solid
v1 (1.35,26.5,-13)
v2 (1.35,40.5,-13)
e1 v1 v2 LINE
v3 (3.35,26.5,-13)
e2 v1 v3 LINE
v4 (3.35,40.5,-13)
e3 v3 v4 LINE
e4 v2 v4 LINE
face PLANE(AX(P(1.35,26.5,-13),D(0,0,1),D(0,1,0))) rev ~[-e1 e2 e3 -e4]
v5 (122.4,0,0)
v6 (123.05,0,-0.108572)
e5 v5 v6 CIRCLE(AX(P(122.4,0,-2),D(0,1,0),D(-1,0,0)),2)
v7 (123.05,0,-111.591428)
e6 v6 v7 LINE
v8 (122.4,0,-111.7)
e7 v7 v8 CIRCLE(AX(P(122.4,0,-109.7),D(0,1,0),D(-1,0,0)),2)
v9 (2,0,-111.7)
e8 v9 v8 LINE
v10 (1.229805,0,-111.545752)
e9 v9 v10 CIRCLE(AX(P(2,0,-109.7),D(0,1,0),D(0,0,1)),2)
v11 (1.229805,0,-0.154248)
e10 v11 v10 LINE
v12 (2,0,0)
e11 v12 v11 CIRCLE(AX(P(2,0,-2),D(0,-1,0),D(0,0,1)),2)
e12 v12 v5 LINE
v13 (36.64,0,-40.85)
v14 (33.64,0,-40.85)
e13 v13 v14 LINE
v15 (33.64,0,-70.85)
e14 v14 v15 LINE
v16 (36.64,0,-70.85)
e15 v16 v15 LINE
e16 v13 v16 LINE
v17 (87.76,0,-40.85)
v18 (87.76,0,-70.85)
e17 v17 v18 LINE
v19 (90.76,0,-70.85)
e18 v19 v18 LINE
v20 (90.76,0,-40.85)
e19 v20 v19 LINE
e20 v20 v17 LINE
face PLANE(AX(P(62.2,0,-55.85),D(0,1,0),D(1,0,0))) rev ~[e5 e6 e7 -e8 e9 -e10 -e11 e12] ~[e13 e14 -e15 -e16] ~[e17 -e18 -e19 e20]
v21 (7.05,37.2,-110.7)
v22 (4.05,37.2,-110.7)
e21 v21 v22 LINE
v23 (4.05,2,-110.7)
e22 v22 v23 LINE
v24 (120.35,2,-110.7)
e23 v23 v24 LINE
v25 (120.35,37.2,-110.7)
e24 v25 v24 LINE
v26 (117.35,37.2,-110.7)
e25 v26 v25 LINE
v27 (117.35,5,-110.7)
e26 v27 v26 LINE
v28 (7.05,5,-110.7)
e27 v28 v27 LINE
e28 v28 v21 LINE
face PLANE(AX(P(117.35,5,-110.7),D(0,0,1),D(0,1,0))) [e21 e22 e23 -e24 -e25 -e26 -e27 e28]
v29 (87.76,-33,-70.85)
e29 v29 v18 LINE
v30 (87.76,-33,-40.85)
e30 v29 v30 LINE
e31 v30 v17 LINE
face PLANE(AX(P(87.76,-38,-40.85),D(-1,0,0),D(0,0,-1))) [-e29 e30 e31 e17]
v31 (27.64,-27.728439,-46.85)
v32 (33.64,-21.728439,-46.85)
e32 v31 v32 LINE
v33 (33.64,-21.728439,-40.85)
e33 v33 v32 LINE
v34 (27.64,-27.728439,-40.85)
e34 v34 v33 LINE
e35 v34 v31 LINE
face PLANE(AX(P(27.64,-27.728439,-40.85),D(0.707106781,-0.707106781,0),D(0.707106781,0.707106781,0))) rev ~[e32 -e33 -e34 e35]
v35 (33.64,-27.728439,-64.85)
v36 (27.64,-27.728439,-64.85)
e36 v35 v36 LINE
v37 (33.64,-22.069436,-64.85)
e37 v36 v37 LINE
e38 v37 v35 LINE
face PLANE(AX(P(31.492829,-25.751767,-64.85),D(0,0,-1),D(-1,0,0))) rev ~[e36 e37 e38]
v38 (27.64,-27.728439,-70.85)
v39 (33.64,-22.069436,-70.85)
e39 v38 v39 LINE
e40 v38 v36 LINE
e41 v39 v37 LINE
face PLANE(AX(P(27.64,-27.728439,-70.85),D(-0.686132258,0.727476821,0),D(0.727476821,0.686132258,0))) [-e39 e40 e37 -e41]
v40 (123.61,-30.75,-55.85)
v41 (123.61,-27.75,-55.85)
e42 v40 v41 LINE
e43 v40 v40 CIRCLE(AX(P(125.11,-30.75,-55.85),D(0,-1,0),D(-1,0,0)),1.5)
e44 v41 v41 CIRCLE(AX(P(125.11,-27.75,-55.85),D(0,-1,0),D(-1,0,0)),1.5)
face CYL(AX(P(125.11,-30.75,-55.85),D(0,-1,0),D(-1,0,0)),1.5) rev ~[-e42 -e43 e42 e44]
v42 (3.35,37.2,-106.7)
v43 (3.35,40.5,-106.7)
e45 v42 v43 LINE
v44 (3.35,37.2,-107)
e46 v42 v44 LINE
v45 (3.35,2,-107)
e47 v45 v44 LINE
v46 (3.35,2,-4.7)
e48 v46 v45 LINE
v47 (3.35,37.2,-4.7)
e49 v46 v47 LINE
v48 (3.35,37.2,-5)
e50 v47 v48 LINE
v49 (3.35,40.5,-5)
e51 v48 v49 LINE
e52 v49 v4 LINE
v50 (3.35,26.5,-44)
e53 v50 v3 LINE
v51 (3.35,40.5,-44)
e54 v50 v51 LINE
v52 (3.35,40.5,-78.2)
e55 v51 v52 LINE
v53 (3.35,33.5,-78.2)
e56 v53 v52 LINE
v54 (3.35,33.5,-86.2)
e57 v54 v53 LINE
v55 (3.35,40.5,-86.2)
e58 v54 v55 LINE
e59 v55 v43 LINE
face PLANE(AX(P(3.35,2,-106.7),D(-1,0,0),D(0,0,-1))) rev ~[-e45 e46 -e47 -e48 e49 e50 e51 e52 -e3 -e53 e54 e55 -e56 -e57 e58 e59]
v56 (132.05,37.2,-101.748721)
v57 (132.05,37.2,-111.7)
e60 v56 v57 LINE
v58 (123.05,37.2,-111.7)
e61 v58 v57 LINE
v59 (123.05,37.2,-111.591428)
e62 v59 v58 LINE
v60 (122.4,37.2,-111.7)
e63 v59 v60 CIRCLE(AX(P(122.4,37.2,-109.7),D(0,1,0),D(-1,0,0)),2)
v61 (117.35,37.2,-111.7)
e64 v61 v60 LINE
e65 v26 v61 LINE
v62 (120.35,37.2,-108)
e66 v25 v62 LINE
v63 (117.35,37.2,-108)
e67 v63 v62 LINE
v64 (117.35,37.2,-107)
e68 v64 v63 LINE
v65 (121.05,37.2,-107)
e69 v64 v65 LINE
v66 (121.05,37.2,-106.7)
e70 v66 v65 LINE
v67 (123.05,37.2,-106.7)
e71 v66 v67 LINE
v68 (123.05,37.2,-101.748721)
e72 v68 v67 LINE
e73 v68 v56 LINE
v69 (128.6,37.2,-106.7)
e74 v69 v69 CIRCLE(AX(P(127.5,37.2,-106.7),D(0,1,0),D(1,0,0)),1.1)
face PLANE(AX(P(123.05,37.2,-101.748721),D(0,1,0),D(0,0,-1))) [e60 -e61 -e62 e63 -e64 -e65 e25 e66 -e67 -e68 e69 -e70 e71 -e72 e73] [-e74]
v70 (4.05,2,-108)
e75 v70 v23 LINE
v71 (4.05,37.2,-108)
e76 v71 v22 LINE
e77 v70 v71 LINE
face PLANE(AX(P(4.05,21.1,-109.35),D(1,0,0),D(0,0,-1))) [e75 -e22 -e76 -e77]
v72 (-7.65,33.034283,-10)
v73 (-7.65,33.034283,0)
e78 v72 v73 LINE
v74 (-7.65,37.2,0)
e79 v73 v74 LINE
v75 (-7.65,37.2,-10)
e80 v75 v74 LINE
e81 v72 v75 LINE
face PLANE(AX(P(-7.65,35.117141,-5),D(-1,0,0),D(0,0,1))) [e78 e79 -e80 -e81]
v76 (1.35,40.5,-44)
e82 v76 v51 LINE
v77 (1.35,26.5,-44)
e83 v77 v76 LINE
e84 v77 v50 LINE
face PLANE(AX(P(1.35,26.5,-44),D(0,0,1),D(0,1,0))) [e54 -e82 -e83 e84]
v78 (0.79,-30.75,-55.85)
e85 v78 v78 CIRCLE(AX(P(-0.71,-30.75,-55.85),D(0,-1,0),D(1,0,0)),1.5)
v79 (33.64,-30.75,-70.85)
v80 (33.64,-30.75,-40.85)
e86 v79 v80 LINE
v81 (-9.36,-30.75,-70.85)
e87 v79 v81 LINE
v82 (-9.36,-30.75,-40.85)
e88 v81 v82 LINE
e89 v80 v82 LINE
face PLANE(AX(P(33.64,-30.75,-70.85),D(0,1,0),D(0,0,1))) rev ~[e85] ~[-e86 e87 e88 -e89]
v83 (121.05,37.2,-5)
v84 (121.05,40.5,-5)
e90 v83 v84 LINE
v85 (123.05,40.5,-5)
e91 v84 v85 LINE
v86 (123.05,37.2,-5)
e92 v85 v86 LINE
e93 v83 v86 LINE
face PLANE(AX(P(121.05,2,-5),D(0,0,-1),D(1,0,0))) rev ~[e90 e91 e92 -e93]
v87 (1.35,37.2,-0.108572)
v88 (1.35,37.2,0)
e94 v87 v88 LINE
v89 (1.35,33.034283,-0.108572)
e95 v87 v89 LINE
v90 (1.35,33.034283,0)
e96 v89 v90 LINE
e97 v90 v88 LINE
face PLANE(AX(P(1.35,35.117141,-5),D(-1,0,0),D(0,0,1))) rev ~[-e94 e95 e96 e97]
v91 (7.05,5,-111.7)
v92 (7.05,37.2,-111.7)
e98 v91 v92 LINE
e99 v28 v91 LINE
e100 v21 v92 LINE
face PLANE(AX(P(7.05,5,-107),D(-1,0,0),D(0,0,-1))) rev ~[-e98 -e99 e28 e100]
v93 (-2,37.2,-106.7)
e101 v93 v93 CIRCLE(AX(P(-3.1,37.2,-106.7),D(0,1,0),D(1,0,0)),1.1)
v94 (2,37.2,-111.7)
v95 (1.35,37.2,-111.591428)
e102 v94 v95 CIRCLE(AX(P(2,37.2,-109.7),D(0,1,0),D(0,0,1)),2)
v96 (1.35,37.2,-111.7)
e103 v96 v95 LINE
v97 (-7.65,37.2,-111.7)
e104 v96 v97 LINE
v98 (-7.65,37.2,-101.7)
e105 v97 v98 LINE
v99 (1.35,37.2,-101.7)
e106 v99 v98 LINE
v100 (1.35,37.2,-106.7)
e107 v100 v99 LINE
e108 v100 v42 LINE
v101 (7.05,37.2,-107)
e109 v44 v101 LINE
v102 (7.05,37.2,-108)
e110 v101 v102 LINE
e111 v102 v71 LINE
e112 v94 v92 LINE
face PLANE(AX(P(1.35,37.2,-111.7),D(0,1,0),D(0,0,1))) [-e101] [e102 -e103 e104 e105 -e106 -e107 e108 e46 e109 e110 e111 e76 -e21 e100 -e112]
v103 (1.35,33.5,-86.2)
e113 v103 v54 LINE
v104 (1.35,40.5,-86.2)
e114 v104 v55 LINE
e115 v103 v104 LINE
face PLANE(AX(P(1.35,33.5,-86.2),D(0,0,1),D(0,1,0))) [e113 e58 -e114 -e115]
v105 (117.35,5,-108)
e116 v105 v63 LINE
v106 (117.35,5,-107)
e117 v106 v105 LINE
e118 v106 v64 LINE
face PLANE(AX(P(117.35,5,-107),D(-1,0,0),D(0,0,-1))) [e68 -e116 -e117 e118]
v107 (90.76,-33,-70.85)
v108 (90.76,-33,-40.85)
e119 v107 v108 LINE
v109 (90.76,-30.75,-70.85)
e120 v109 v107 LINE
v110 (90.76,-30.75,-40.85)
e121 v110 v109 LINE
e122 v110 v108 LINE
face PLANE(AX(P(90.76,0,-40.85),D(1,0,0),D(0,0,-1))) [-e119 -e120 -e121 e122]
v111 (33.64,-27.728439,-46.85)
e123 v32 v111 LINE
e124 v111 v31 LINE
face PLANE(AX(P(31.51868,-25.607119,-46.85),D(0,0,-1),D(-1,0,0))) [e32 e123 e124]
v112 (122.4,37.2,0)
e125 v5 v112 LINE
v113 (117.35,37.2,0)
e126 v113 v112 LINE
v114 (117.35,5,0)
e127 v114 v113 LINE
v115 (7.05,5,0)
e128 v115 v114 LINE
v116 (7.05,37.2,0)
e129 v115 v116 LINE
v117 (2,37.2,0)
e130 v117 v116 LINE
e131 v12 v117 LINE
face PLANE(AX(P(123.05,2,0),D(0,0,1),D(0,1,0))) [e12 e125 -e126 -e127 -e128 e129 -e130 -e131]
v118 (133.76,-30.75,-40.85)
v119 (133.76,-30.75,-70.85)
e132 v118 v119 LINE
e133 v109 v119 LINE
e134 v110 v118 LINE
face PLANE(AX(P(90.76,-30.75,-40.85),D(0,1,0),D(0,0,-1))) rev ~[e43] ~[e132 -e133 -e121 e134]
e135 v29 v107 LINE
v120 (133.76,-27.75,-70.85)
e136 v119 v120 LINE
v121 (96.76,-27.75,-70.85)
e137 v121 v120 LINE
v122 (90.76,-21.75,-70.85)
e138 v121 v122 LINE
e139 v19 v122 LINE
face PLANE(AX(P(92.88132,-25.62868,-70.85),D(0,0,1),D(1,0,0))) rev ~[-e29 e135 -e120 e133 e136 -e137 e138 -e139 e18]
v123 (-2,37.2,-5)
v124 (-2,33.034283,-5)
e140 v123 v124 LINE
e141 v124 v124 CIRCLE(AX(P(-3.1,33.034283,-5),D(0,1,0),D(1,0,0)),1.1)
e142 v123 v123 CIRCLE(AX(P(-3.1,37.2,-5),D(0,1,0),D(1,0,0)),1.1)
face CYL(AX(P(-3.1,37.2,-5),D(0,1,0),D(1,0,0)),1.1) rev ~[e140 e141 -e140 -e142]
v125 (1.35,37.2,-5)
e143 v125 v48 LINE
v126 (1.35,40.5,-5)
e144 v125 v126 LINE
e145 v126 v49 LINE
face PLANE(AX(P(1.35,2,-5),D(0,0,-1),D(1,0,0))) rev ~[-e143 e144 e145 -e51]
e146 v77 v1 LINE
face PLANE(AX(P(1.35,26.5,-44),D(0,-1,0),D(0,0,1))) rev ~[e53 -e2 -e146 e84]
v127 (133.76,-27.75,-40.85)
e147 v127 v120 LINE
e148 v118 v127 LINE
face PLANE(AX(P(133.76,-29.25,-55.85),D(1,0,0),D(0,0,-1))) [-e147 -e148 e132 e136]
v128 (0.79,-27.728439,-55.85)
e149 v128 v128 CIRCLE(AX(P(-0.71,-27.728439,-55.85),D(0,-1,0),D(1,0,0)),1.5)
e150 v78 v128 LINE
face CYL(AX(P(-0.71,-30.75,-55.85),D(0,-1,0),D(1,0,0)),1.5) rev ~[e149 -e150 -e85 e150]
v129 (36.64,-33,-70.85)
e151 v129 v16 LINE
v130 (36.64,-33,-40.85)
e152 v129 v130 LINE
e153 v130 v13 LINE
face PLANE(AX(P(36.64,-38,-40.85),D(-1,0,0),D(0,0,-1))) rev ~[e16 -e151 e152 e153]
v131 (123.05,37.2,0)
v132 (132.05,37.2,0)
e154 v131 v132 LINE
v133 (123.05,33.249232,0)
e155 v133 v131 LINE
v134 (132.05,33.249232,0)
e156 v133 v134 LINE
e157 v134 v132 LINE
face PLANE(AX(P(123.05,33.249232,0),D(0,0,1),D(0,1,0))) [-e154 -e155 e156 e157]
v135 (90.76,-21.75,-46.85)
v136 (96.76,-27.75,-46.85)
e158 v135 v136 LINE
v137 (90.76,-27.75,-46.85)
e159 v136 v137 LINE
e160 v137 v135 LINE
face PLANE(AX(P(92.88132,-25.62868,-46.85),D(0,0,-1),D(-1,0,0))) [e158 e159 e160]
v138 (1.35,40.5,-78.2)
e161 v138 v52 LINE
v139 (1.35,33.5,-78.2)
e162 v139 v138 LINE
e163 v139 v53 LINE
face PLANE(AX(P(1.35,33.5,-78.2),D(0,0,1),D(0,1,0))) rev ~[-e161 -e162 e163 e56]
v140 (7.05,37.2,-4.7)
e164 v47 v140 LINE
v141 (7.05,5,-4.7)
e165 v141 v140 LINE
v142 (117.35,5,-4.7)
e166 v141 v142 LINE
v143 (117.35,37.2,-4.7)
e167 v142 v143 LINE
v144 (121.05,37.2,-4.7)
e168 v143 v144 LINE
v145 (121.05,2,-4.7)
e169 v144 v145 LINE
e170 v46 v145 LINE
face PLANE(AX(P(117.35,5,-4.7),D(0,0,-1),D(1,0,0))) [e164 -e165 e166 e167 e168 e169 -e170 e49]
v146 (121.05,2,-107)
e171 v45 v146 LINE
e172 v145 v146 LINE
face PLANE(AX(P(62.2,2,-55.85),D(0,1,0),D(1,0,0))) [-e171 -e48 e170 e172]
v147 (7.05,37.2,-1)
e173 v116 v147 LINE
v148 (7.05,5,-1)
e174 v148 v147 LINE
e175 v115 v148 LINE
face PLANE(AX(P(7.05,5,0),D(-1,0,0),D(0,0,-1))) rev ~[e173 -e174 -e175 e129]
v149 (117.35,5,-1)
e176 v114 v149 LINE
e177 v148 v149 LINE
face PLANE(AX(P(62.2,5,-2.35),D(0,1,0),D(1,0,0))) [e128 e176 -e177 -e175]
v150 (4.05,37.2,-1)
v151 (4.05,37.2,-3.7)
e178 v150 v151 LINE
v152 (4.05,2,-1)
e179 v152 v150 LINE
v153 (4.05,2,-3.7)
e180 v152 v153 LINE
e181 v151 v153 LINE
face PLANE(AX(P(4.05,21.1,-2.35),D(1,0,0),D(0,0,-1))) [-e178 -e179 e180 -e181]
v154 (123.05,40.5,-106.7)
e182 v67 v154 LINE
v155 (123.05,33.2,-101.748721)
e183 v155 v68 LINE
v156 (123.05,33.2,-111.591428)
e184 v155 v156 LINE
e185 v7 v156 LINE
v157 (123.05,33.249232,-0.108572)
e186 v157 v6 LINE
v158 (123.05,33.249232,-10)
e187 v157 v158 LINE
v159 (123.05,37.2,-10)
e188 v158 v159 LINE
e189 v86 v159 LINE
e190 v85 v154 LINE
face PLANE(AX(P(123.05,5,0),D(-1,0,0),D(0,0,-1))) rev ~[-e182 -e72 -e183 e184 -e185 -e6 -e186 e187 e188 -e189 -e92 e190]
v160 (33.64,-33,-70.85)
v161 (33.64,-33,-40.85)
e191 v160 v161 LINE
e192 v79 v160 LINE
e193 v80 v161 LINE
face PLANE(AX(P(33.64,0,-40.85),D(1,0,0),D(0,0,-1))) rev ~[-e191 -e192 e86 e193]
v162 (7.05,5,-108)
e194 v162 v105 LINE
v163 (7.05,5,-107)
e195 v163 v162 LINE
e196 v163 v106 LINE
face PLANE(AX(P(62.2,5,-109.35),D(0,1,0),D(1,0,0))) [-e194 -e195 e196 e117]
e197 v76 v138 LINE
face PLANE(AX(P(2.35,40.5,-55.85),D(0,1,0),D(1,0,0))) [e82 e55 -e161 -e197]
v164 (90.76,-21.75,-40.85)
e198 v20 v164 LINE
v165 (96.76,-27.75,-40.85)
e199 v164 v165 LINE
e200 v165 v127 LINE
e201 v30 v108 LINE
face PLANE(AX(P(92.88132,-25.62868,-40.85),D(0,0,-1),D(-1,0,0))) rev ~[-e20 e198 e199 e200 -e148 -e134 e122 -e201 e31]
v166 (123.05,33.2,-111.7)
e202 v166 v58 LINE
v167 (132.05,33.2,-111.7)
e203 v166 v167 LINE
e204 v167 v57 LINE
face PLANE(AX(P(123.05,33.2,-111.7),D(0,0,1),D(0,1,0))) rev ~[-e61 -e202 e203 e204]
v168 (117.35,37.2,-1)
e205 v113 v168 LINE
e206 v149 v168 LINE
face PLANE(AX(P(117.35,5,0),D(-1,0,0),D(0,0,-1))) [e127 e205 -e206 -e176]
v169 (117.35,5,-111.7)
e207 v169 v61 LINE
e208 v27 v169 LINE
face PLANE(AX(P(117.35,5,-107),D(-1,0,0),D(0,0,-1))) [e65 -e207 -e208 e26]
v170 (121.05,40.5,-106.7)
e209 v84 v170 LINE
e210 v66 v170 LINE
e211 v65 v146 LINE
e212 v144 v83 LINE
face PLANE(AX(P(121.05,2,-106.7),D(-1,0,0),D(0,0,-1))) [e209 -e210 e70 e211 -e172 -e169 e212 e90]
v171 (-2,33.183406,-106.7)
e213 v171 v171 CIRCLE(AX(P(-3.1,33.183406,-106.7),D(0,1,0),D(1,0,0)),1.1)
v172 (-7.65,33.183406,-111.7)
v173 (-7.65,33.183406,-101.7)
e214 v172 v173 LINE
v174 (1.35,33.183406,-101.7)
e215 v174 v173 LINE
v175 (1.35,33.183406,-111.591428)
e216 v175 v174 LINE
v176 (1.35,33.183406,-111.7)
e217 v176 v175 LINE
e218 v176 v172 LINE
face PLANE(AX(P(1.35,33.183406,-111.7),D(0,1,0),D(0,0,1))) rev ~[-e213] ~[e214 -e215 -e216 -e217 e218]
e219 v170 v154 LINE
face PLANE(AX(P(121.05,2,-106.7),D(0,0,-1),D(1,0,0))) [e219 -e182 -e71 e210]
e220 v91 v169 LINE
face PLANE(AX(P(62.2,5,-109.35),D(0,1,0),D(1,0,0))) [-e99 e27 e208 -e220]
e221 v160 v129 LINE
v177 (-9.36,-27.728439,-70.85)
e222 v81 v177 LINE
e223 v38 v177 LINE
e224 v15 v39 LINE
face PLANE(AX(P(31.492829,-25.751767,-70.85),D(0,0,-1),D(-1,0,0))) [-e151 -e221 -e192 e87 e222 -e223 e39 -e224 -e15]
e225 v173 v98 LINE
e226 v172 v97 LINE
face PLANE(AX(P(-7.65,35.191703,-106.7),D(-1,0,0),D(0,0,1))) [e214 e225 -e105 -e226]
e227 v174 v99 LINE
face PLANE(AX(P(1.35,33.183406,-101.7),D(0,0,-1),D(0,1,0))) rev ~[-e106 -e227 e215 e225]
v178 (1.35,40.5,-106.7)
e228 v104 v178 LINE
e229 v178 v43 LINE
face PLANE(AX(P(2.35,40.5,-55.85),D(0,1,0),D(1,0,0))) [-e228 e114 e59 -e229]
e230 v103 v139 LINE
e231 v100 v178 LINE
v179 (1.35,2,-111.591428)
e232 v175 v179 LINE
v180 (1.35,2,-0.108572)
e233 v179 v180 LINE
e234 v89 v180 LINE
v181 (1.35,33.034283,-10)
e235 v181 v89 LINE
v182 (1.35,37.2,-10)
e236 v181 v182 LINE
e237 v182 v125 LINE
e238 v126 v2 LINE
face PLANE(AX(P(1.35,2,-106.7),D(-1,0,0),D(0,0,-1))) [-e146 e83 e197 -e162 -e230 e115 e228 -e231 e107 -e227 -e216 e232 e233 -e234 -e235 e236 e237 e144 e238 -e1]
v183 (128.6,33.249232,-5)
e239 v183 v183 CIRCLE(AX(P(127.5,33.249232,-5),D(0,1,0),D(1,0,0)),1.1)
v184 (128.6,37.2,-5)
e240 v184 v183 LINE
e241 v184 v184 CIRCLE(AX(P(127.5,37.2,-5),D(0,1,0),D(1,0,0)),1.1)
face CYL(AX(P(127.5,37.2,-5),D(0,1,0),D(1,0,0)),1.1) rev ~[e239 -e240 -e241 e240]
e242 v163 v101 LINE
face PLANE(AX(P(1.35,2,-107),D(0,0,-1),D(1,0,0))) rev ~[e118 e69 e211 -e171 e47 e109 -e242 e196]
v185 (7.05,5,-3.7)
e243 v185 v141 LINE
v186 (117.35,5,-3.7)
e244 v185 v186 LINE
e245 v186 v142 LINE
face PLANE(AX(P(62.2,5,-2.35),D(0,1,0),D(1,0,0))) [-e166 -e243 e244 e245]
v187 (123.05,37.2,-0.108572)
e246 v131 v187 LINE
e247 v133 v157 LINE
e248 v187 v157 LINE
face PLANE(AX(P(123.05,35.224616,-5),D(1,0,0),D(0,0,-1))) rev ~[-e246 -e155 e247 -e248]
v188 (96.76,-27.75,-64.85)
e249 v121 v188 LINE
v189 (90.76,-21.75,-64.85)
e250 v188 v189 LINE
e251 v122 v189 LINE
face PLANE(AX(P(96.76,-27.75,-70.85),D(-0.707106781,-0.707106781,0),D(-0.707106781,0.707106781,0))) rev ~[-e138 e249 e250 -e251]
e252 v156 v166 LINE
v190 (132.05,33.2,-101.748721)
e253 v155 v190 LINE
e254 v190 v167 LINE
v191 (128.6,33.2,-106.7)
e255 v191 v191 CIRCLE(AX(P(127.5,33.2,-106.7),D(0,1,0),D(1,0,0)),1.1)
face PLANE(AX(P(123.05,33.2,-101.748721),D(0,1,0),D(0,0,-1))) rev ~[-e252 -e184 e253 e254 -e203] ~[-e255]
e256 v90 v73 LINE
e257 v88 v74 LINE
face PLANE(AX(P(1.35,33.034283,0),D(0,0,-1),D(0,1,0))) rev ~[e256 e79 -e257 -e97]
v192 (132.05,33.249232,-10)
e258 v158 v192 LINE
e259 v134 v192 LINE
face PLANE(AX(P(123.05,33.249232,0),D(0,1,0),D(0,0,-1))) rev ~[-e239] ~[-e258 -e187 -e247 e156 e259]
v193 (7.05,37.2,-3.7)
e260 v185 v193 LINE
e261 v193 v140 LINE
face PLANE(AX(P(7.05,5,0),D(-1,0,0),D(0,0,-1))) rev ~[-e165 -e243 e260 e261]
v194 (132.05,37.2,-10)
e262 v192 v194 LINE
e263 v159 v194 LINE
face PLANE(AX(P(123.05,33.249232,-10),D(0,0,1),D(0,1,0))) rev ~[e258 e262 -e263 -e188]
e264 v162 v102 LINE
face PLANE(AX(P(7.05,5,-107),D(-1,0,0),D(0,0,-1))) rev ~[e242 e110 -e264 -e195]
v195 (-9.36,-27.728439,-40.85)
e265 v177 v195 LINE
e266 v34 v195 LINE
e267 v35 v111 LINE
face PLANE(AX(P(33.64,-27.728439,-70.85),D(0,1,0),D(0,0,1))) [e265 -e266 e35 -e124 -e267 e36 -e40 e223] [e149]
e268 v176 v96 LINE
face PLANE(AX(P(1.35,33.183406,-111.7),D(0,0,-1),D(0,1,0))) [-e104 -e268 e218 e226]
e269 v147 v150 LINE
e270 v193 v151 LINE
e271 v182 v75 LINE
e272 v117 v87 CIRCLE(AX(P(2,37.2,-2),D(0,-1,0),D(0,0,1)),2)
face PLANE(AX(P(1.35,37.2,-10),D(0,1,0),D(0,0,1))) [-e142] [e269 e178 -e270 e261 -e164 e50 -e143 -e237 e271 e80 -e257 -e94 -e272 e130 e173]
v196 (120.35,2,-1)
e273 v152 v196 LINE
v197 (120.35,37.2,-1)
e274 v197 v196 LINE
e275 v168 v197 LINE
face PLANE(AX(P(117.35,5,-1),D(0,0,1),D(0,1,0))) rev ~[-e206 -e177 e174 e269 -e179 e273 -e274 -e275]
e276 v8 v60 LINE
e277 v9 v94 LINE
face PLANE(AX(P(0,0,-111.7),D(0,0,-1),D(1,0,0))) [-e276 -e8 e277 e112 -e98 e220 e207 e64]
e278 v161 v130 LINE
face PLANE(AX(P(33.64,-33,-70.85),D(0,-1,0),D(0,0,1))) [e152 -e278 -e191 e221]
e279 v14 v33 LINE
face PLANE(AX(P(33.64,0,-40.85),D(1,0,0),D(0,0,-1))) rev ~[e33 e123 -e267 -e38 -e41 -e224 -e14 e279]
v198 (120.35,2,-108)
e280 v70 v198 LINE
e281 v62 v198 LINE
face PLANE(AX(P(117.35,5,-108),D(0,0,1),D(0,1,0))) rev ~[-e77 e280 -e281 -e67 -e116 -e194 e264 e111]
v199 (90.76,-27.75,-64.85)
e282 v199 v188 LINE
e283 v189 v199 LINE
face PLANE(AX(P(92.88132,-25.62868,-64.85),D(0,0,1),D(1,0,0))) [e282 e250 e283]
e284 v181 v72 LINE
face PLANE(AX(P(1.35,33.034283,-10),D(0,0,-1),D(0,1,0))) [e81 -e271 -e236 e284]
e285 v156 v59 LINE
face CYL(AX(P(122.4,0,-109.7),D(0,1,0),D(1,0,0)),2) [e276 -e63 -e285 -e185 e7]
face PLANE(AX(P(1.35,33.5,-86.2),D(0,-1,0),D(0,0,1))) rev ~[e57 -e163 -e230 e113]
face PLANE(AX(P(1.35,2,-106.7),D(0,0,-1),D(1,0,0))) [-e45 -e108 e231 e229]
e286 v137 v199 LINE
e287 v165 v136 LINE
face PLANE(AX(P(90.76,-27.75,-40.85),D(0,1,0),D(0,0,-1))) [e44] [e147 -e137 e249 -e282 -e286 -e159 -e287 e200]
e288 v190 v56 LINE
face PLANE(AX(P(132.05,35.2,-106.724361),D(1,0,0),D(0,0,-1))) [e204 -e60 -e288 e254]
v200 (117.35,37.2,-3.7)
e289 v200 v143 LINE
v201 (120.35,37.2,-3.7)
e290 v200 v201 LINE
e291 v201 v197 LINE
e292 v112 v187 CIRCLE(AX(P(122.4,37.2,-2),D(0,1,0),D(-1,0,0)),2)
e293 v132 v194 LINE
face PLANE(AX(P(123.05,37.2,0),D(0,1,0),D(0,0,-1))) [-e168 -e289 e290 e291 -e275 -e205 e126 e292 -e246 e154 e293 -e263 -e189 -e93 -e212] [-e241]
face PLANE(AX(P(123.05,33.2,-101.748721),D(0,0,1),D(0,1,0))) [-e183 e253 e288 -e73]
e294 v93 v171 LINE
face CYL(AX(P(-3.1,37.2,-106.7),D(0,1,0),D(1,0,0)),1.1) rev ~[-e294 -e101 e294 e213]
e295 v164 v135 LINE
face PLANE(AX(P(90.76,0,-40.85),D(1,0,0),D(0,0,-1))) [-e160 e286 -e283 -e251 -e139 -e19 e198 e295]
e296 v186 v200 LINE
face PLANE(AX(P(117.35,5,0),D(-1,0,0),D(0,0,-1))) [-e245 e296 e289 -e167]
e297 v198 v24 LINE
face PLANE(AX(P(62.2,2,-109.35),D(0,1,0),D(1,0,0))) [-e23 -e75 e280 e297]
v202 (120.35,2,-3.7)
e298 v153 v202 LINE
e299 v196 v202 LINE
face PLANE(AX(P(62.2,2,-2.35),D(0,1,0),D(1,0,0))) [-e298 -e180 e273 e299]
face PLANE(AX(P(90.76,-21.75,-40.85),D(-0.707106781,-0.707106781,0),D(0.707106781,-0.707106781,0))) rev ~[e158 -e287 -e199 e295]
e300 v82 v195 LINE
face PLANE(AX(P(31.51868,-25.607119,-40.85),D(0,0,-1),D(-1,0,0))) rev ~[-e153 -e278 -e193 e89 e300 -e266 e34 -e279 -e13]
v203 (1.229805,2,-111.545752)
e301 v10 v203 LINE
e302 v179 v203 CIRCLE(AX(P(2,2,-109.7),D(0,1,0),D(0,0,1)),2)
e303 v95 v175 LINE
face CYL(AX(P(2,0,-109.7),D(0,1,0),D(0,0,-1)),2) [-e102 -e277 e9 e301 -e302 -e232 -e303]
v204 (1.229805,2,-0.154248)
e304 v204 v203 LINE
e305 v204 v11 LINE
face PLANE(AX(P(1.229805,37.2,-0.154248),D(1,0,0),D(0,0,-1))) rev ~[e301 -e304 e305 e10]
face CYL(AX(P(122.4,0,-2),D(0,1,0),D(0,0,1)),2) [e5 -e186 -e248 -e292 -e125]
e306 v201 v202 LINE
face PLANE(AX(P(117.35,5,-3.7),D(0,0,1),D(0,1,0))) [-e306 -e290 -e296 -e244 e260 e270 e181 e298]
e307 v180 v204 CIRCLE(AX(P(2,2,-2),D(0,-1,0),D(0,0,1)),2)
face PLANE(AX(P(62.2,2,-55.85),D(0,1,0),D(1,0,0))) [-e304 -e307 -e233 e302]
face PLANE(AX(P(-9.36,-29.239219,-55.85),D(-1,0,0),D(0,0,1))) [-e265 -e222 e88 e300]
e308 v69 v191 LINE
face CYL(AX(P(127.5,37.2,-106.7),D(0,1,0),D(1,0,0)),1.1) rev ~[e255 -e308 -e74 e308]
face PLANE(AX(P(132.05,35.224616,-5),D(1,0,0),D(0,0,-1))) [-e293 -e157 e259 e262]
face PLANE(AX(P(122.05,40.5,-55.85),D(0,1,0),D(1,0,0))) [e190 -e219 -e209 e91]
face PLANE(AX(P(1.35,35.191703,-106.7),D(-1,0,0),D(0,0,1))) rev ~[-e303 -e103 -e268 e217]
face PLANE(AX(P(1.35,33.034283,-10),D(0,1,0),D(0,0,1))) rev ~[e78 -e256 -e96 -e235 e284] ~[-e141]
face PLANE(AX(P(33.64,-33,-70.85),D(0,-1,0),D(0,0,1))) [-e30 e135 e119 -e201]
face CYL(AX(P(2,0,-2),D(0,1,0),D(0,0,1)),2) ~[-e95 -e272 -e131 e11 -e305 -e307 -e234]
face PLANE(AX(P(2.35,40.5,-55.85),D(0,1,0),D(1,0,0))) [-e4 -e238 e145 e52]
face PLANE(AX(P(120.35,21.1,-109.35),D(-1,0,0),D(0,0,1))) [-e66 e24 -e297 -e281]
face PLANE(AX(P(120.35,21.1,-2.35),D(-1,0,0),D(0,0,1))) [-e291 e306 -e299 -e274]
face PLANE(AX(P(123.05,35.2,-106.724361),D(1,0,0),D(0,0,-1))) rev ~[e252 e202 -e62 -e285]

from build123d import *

# Parameters (mm, degrees)
SKETCH1_W            = 124.4
SKETCH1_H            = 111.7
BOSS_EXTRUDE1_DEPTH  = 2
SKETCH2_W            = 2
SKETCH2_H            = 101.7
BOSS_EXTRUDE2_DEPTH  = 38.5
SKETCH3_W            = 121.7
SKETCH3_H            = 4.7
BOSS_EXTRUDE3_DEPTH  = 3
SKETCH5_W            = 116.3
SKETCH5_H            = 2.7
CUT_EXTRUDE8_DEPTH   = 3
SKETCH14_W           = 121.7
SKETCH14_H           = 4.7
BOSS_EXTRUDE6_DEPTH  = 3
SKETCH15_W           = 116.3
SKETCH15_H           = 2.7
CUT_EXTRUDE14_DEPTH  = 3
SKETCH18_W           = 2
SKETCH18_H           = 0.3
BOSS_EXTRUDE7_DEPTH  = 35.2
SKETCH19_W           = 5.7
SKETCH19_H           = 4.7
BOSS_EXTRUDE8_DEPTH  = 32.2
SKETCH20_W           = 2.7
SKETCH20_H           = 32.2
CUT_EXTRUDE15_DEPTH  = 3
SKETCH21_W           = 2.7
SKETCH21_H           = 32.2
CUT_EXTRUDE16_DEPTH  = 3
SKETCH24_W           = 2.7
SKETCH24_H           = 32.2
CUT_EXTRUDE18_DEPTH  = 3
SKETCH25_W           = 2.7
SKETCH25_H           = 32.2
CUT_EXTRUDE19_DEPTH  = 3
SKETCH30_W           = 31
SKETCH30_H           = 14
SKETCH30_W_2         = 8
SKETCH30_H_2         = 7
CUT_EXTRUDE23_DEPTH  = 2
SKETCH31_W           = 6
SKETCH31_H           = 36.2
BOSS_EXTRUDE9_DEPTH  = 1.35
FILLET1_R            = 2
SKETCH33_W           = 99.7
SKETCH33_H           = 3
BOSS_EXTRUDE11_DEPTH = 1.35
SKETCH43_W           = 1.229805297
SKETCH43_H           = 112.077966817
CUT_EXTRUDE25_DEPTH  = 38.2
SKETCH47_W           = 57.12
SKETCH47_H           = 30
BOSS_EXTRUDE22_DEPTH = 38
SKETCH49_W           = 51.12
SKETCH49_H           = 30
CUT_EXTRUDE30_DEPTH  = 38
SKETCH51_W           = 2.352063359
SKETCH51_H           = 112.382279656
CUT_EXTRUDE33_DEPTH  = 77.2
SKETCH54_W           = 10
SKETCH54_H           = 4.16571725
SKETCH54_H_2         = 4.016594053
BOSS_EXTRUDE23_DEPTH = 9
SKETCH55_W           = 10
SKETCH55_H           = 3.950767522
SKETCH55_W_2         = 9.95127899
SKETCH55_H_2         = 4
BOSS_EXTRUDE24_DEPTH = 9
SKETCH56_R           = 1.1
CUT_EXTRUDE34_DEPTH  = 10
SKETCH57_R           = 1
CUT_EXTRUDE35_DEPTH  = 99.41
SKETCH58_W           = 30
SKETCH58_H           = 3
BOSS_EXTRUDE25_DEPTH = 43
SKETCH59_W           = 30
SKETCH59_H           = 3.021561104
BOSS_EXTRUDE26_DEPTH = 43
BOSS_EXTRUDE28_DEPTH = 6
BOSS_EXTRUDE29_DEPTH = 6
BOSS_EXTRUDE30_DEPTH = 6
BOSS_EXTRUDE31_DEPTH = 6
SKETCH64_W           = 30
SKETCH64_H           = 6.546083461
CUT_EXTRUDE36_DEPTH  = 101.12
SKETCH65_R           = 1.5
CUT_EXTRUDE37_DEPTH  = 6
SKETCH67_R           = 1.5
CUT_EXTRUDE39_DEPTH  = 6


with BuildPart() as part:
    # Sketch1 → Boss-Extrude1 (new body)
    with BuildSketch(Plane(origin=(0, 0, 0), x_dir=(1, 0, 0), z_dir=(0, 1, 0))):
        with Locations((62.2, 55.85)):
            Rectangle(SKETCH1_W, SKETCH1_H)
    extrude(amount=BOSS_EXTRUDE1_DEPTH)

    # Sketch2 → Boss-Extrude2 (add)
    with BuildSketch(Plane(origin=(0, 2, 0), x_dir=(1, 0, 0), z_dir=(0, 1, 0))):
        with Locations((122.05, 55.85)):
            Rectangle(SKETCH2_W, SKETCH2_H)
        with Locations((2.35, 55.85)):
            Rectangle(SKETCH2_W, SKETCH2_H)
    extrude(amount=BOSS_EXTRUDE2_DEPTH)

    # Sketch3 → Boss-Extrude3 (add)
    with BuildSketch(Plane(origin=(0, 2, 0), x_dir=(1, 0, 0), z_dir=(0, 1, 0))):
        with Locations((62.2, 2.35)):
            Rectangle(SKETCH3_W, SKETCH3_H)
    extrude(amount=BOSS_EXTRUDE3_DEPTH)

    # Sketch5 → Cut-Extrude8 (cut)
    with BuildSketch(Plane(origin=(0, 5, 0), x_dir=(1, 0, 0), z_dir=(0, 1, 0))):
        with Locations((62.2, 2.35)):
            Rectangle(SKETCH5_W, SKETCH5_H)
    extrude(amount=-CUT_EXTRUDE8_DEPTH, mode=Mode.SUBTRACT)

    # Sketch14 → Boss-Extrude6 (add)
    with BuildSketch(Plane(origin=(0, 2, 0), x_dir=(1, 0, 0), z_dir=(0, 1, 0))):
        with Locations((62.2, 109.35)):
            Rectangle(SKETCH14_W, SKETCH14_H)
    extrude(amount=BOSS_EXTRUDE6_DEPTH)

    # Sketch15 → Cut-Extrude14 (cut)
    with BuildSketch(Plane(origin=(0, 5, 0), x_dir=(1, 0, 0), z_dir=(0, 1, 0))):
        with Locations((62.2, 109.35)):
            Rectangle(SKETCH15_W, SKETCH15_H)
    extrude(amount=-CUT_EXTRUDE14_DEPTH, mode=Mode.SUBTRACT)

    # Sketch18 → Boss-Extrude7 (add)
    with BuildSketch(Plane(origin=(0, 2, 0), x_dir=(1, 0, 0), z_dir=(0, 1, 0))):
        with Locations((2.35, 106.85)):
            Rectangle(SKETCH18_W, SKETCH18_H)
        with Locations((122.05, 106.85)):
            Rectangle(SKETCH18_W, SKETCH18_H)
        with Locations((122.05, 4.85)):
            Rectangle(SKETCH18_W, SKETCH18_H)
        with Locations((2.35, 4.85)):
            Rectangle(SKETCH18_W, SKETCH18_H)
    extrude(amount=BOSS_EXTRUDE7_DEPTH)

    # Sketch19 → Boss-Extrude8 (add)
    with BuildSketch(Plane(origin=(0, 5, 0), x_dir=(1, 0, 0), z_dir=(0, 1, 0))):
        with Locations((120.2, 2.35)):
            Rectangle(SKETCH19_W, SKETCH19_H)
        with Locations((4.2, 2.35)):
            Rectangle(SKETCH19_W, SKETCH19_H)
        with Locations((120.2, 109.35)):
            Rectangle(SKETCH19_W, SKETCH19_H)
        with Locations((4.2, 109.35)):
            Rectangle(SKETCH19_W, SKETCH19_H)
    extrude(amount=BOSS_EXTRUDE8_DEPTH)

    # Sketch20 → Cut-Extrude15 (cut)
    with BuildSketch(Plane.ZY.offset(-117.35)):
        with Locations((-109.35, 21.1)):
            Rectangle(SKETCH20_W, SKETCH20_H)
    extrude(amount=-CUT_EXTRUDE15_DEPTH, mode=Mode.SUBTRACT)

    # Sketch21 → Cut-Extrude16 (cut)
    with BuildSketch(Plane(origin=(7.05, 0, 0), x_dir=(0, 0, -1), z_dir=(1, 0, 0))):
        with Locations((109.35, 21.1)):
            Rectangle(SKETCH21_W, SKETCH21_H)
    extrude(amount=-CUT_EXTRUDE16_DEPTH, mode=Mode.SUBTRACT)

    # Sketch24 → Cut-Extrude18 (cut)
    with BuildSketch(Plane(origin=(7.05, 0, 0), x_dir=(0, 0, -1), z_dir=(1, 0, 0))):
        with Locations((2.35, 21.1)):
            Rectangle(SKETCH24_W, SKETCH24_H)
    extrude(amount=-CUT_EXTRUDE18_DEPTH, mode=Mode.SUBTRACT)

    # Sketch25 → Cut-Extrude19 (cut)
    with BuildSketch(Plane.ZY.offset(-117.35)):
        with Locations((-2.35, 21.1)):
            Rectangle(SKETCH25_W, SKETCH25_H)
    extrude(amount=-CUT_EXTRUDE19_DEPTH, mode=Mode.SUBTRACT)

    # Sketch30 → Cut-Extrude23 (cut)
    with BuildSketch(Plane.ZY.offset(-1.35)):
        with Locations((-28.5, 33.5)):
            Rectangle(SKETCH30_W, SKETCH30_H)
        with Locations((-82.2, 37)):
            Rectangle(SKETCH30_W_2, SKETCH30_H_2)
    extrude(amount=-CUT_EXTRUDE23_DEPTH, mode=Mode.SUBTRACT)

    # Sketch31 → Boss-Extrude9 (add)
    with BuildSketch(Plane(origin=(123.05, 0, 0), x_dir=(0, 0, -1), z_dir=(1, 0, 0))):
        with Locations((3, 20.1)):
            Rectangle(SKETCH31_W, SKETCH31_H)
        with Locations((108.7, 20.1)):
            Rectangle(SKETCH31_W, SKETCH31_H)
    extrude(amount=BOSS_EXTRUDE9_DEPTH)

    # Fillet1
    fillet1_edges = [part.edges().sort_by_distance(p)[0] for p in [
        (0, 1, 0),
        (124.4, 19.1, 0),
        (124.4, 19.1, -111.7),
        (0, 1, -111.7),
    ]]
    fillet(fillet1_edges, radius=FILLET1_R)

    # Sketch33 → Boss-Extrude11 (add)
    with BuildSketch(Plane(origin=(123.05, 0, 0), x_dir=(0, 0, -1), z_dir=(1, 0, 0))):
        with Locations((55.85, 3.5)):
            Rectangle(SKETCH33_W, SKETCH33_H)
    extrude(amount=BOSS_EXTRUDE11_DEPTH)

    # Sketch43 → Cut-Extrude25 (cut, through all)
    with BuildSketch(Plane(origin=(0, 37.2, 0), x_dir=(1, 0, 0), z_dir=(0, 1, 0))):
        with Locations((0.614902649, 56.193231497)):
            Rectangle(SKETCH43_W, SKETCH43_H)
    extrude(amount=-CUT_EXTRUDE25_DEPTH, mode=Mode.SUBTRACT)

    # Sketch47 → Boss-Extrude22 (add)
    with BuildSketch(Plane(origin=(0, 0, 0), x_dir=(-1, 0, 0), z_dir=(0, -1, 0))):
        with Locations((-62.2, 55.85)):
            Rectangle(SKETCH47_W, SKETCH47_H)
    extrude(amount=BOSS_EXTRUDE22_DEPTH)

    # Sketch49 → Cut-Extrude30 (cut)
    with BuildSketch(Plane(origin=(0, -38, 0), x_dir=(-1, 0, 0), z_dir=(0, -1, 0))):
        with Locations((-62.2, 55.85)):
            Rectangle(SKETCH49_W, SKETCH49_H)
    extrude(amount=-CUT_EXTRUDE30_DEPTH, mode=Mode.SUBTRACT)

    # Sketch51 → Cut-Extrude33 (cut, through all)
    with BuildSketch(Plane(origin=(0, 38.2, 0), x_dir=(1, 0, 0), z_dir=(0, 1, 0))):
        with Locations((124.22603168, 56.299711796)):
            Rectangle(SKETCH51_W, SKETCH51_H)
    extrude(amount=-CUT_EXTRUDE33_DEPTH, mode=Mode.SUBTRACT)

    # Sketch54 → Boss-Extrude23 (add)
    with BuildSketch(Plane.ZY.offset(-1.35)):
        with Locations((-5, 35.117141375)):
            Rectangle(SKETCH54_W, SKETCH54_H)
        with Locations((-106.7, 35.191702973)):
            Rectangle(SKETCH54_W, SKETCH54_H_2)
    extrude(amount=BOSS_EXTRUDE23_DEPTH)

    # Sketch55 → Boss-Extrude24 (add)
    with BuildSketch(Plane(origin=(123.05, 0, 0), x_dir=(0, 0, -1), z_dir=(1, 0, 0))):
        with Locations((5, 35.224616239)):
            Rectangle(SKETCH55_W, SKETCH55_H)
        with Locations((106.724360505, 35.2)):
            Rectangle(SKETCH55_W_2, SKETCH55_H_2)
    extrude(amount=BOSS_EXTRUDE24_DEPTH)

    # Sketch56 → Cut-Extrude34 (cut)
    with BuildSketch(Plane(origin=(0, 37.2, 0), x_dir=(1, 0, 0), z_dir=(0, 1, 0))):
        with Locations((-3.1, 106.7)):
            Circle(SKETCH56_R)
        with Locations((127.5, 106.7)):
            Circle(SKETCH56_R)
        with Locations((127.5, 5)):
            Circle(SKETCH56_R)
        with Locations((-3.1, 5)):
            Circle(SKETCH56_R)
    extrude(amount=-CUT_EXTRUDE34_DEPTH, mode=Mode.SUBTRACT)

    # Sketch57 → Cut-Extrude35 (cut, through all)
    with BuildSketch(Plane(origin=(90.76, 0, 0), x_dir=(0, 0, -1), z_dir=(1, 0, 0))):
        with Locations((45.85, -34)):
            Circle(SKETCH57_R)
        with Locations((65.85, -34)):
            Circle(SKETCH57_R)
    extrude(amount=-CUT_EXTRUDE35_DEPTH, mode=Mode.SUBTRACT)

    # Sketch58 → Boss-Extrude25 (add)
    with BuildSketch(Plane(origin=(90.76, 0, 0), x_dir=(0, 0, -1), z_dir=(1, 0, 0))):
        with Locations((55.85, -29.25)):
            Rectangle(SKETCH58_W, SKETCH58_H)
    extrude(amount=BOSS_EXTRUDE25_DEPTH)

    # Sketch59 → Boss-Extrude26 (add)
    with BuildSketch(Plane.ZY.offset(-33.64)):
        with Locations((-55.85, -29.239219448)):
            Rectangle(SKETCH59_W, SKETCH59_H)
    extrude(amount=BOSS_EXTRUDE26_DEPTH)

    # Sketch61 → Boss-Extrude28 (add)
    with BuildSketch(Plane.XY.offset(-40.85)):
        Polygon((90.76, -21.75), (96.76, -27.75), (90.76, -27.75), align=None)
    extrude(amount=-BOSS_EXTRUDE28_DEPTH)

    # Sketch62 → Boss-Extrude29 (add)
    with BuildSketch(Plane(origin=(0, 0, -70.85), x_dir=(-1, 0, 0), z_dir=(0, 0, -1))):
        Polygon((-90.76, -21.75), (-90.76, -27.75), (-96.76, -27.75), align=None)
    extrude(amount=-BOSS_EXTRUDE29_DEPTH)

    # Sketch60 → Boss-Extrude30 (add)
    with BuildSketch(Plane.XY.offset(-40.85)):
        Polygon((27.64, -27.728438896), (33.64, -21.728438896), (33.64, -27.728438896), align=None)
    extrude(amount=-BOSS_EXTRUDE30_DEPTH)

    # Sketch63 → Boss-Extrude31 (add)
    with BuildSketch(Plane(origin=(0, 0, -70.85), x_dir=(-1, 0, 0), z_dir=(0, 0, -1))):
        Polygon((-33.64, -22.069435851), (-33.64, -27.728438896), (-27.64, -27.728438896), align=None)
    extrude(amount=-BOSS_EXTRUDE31_DEPTH)

    # Sketch64 → Cut-Extrude36 (cut, through all)
    with BuildSketch(Plane.ZY.offset(-33.64)):
        with Locations((-55.85, -36.27304173)):
            Rectangle(SKETCH64_W, SKETCH64_H)
    extrude(amount=-CUT_EXTRUDE36_DEPTH, mode=Mode.SUBTRACT)

    # Sketch65 → Cut-Extrude37 (cut)
    with BuildSketch(Plane(origin=(0, -30.75, 0), x_dir=(-1, 0, 0), z_dir=(0, -1, 0))):
        with Locations((-125.11, 55.85)):
            Circle(SKETCH65_R)
    extrude(amount=-CUT_EXTRUDE37_DEPTH, mode=Mode.SUBTRACT)

    # Sketch67 → Cut-Extrude39 (cut)
    with BuildSketch(Plane.XZ.offset(30.75)):
        with Locations((-0.71, -55.85)):
            Circle(SKETCH67_R)
    extrude(amount=-CUT_EXTRUDE39_DEPTH, mode=Mode.SUBTRACT)


solid = part.part
